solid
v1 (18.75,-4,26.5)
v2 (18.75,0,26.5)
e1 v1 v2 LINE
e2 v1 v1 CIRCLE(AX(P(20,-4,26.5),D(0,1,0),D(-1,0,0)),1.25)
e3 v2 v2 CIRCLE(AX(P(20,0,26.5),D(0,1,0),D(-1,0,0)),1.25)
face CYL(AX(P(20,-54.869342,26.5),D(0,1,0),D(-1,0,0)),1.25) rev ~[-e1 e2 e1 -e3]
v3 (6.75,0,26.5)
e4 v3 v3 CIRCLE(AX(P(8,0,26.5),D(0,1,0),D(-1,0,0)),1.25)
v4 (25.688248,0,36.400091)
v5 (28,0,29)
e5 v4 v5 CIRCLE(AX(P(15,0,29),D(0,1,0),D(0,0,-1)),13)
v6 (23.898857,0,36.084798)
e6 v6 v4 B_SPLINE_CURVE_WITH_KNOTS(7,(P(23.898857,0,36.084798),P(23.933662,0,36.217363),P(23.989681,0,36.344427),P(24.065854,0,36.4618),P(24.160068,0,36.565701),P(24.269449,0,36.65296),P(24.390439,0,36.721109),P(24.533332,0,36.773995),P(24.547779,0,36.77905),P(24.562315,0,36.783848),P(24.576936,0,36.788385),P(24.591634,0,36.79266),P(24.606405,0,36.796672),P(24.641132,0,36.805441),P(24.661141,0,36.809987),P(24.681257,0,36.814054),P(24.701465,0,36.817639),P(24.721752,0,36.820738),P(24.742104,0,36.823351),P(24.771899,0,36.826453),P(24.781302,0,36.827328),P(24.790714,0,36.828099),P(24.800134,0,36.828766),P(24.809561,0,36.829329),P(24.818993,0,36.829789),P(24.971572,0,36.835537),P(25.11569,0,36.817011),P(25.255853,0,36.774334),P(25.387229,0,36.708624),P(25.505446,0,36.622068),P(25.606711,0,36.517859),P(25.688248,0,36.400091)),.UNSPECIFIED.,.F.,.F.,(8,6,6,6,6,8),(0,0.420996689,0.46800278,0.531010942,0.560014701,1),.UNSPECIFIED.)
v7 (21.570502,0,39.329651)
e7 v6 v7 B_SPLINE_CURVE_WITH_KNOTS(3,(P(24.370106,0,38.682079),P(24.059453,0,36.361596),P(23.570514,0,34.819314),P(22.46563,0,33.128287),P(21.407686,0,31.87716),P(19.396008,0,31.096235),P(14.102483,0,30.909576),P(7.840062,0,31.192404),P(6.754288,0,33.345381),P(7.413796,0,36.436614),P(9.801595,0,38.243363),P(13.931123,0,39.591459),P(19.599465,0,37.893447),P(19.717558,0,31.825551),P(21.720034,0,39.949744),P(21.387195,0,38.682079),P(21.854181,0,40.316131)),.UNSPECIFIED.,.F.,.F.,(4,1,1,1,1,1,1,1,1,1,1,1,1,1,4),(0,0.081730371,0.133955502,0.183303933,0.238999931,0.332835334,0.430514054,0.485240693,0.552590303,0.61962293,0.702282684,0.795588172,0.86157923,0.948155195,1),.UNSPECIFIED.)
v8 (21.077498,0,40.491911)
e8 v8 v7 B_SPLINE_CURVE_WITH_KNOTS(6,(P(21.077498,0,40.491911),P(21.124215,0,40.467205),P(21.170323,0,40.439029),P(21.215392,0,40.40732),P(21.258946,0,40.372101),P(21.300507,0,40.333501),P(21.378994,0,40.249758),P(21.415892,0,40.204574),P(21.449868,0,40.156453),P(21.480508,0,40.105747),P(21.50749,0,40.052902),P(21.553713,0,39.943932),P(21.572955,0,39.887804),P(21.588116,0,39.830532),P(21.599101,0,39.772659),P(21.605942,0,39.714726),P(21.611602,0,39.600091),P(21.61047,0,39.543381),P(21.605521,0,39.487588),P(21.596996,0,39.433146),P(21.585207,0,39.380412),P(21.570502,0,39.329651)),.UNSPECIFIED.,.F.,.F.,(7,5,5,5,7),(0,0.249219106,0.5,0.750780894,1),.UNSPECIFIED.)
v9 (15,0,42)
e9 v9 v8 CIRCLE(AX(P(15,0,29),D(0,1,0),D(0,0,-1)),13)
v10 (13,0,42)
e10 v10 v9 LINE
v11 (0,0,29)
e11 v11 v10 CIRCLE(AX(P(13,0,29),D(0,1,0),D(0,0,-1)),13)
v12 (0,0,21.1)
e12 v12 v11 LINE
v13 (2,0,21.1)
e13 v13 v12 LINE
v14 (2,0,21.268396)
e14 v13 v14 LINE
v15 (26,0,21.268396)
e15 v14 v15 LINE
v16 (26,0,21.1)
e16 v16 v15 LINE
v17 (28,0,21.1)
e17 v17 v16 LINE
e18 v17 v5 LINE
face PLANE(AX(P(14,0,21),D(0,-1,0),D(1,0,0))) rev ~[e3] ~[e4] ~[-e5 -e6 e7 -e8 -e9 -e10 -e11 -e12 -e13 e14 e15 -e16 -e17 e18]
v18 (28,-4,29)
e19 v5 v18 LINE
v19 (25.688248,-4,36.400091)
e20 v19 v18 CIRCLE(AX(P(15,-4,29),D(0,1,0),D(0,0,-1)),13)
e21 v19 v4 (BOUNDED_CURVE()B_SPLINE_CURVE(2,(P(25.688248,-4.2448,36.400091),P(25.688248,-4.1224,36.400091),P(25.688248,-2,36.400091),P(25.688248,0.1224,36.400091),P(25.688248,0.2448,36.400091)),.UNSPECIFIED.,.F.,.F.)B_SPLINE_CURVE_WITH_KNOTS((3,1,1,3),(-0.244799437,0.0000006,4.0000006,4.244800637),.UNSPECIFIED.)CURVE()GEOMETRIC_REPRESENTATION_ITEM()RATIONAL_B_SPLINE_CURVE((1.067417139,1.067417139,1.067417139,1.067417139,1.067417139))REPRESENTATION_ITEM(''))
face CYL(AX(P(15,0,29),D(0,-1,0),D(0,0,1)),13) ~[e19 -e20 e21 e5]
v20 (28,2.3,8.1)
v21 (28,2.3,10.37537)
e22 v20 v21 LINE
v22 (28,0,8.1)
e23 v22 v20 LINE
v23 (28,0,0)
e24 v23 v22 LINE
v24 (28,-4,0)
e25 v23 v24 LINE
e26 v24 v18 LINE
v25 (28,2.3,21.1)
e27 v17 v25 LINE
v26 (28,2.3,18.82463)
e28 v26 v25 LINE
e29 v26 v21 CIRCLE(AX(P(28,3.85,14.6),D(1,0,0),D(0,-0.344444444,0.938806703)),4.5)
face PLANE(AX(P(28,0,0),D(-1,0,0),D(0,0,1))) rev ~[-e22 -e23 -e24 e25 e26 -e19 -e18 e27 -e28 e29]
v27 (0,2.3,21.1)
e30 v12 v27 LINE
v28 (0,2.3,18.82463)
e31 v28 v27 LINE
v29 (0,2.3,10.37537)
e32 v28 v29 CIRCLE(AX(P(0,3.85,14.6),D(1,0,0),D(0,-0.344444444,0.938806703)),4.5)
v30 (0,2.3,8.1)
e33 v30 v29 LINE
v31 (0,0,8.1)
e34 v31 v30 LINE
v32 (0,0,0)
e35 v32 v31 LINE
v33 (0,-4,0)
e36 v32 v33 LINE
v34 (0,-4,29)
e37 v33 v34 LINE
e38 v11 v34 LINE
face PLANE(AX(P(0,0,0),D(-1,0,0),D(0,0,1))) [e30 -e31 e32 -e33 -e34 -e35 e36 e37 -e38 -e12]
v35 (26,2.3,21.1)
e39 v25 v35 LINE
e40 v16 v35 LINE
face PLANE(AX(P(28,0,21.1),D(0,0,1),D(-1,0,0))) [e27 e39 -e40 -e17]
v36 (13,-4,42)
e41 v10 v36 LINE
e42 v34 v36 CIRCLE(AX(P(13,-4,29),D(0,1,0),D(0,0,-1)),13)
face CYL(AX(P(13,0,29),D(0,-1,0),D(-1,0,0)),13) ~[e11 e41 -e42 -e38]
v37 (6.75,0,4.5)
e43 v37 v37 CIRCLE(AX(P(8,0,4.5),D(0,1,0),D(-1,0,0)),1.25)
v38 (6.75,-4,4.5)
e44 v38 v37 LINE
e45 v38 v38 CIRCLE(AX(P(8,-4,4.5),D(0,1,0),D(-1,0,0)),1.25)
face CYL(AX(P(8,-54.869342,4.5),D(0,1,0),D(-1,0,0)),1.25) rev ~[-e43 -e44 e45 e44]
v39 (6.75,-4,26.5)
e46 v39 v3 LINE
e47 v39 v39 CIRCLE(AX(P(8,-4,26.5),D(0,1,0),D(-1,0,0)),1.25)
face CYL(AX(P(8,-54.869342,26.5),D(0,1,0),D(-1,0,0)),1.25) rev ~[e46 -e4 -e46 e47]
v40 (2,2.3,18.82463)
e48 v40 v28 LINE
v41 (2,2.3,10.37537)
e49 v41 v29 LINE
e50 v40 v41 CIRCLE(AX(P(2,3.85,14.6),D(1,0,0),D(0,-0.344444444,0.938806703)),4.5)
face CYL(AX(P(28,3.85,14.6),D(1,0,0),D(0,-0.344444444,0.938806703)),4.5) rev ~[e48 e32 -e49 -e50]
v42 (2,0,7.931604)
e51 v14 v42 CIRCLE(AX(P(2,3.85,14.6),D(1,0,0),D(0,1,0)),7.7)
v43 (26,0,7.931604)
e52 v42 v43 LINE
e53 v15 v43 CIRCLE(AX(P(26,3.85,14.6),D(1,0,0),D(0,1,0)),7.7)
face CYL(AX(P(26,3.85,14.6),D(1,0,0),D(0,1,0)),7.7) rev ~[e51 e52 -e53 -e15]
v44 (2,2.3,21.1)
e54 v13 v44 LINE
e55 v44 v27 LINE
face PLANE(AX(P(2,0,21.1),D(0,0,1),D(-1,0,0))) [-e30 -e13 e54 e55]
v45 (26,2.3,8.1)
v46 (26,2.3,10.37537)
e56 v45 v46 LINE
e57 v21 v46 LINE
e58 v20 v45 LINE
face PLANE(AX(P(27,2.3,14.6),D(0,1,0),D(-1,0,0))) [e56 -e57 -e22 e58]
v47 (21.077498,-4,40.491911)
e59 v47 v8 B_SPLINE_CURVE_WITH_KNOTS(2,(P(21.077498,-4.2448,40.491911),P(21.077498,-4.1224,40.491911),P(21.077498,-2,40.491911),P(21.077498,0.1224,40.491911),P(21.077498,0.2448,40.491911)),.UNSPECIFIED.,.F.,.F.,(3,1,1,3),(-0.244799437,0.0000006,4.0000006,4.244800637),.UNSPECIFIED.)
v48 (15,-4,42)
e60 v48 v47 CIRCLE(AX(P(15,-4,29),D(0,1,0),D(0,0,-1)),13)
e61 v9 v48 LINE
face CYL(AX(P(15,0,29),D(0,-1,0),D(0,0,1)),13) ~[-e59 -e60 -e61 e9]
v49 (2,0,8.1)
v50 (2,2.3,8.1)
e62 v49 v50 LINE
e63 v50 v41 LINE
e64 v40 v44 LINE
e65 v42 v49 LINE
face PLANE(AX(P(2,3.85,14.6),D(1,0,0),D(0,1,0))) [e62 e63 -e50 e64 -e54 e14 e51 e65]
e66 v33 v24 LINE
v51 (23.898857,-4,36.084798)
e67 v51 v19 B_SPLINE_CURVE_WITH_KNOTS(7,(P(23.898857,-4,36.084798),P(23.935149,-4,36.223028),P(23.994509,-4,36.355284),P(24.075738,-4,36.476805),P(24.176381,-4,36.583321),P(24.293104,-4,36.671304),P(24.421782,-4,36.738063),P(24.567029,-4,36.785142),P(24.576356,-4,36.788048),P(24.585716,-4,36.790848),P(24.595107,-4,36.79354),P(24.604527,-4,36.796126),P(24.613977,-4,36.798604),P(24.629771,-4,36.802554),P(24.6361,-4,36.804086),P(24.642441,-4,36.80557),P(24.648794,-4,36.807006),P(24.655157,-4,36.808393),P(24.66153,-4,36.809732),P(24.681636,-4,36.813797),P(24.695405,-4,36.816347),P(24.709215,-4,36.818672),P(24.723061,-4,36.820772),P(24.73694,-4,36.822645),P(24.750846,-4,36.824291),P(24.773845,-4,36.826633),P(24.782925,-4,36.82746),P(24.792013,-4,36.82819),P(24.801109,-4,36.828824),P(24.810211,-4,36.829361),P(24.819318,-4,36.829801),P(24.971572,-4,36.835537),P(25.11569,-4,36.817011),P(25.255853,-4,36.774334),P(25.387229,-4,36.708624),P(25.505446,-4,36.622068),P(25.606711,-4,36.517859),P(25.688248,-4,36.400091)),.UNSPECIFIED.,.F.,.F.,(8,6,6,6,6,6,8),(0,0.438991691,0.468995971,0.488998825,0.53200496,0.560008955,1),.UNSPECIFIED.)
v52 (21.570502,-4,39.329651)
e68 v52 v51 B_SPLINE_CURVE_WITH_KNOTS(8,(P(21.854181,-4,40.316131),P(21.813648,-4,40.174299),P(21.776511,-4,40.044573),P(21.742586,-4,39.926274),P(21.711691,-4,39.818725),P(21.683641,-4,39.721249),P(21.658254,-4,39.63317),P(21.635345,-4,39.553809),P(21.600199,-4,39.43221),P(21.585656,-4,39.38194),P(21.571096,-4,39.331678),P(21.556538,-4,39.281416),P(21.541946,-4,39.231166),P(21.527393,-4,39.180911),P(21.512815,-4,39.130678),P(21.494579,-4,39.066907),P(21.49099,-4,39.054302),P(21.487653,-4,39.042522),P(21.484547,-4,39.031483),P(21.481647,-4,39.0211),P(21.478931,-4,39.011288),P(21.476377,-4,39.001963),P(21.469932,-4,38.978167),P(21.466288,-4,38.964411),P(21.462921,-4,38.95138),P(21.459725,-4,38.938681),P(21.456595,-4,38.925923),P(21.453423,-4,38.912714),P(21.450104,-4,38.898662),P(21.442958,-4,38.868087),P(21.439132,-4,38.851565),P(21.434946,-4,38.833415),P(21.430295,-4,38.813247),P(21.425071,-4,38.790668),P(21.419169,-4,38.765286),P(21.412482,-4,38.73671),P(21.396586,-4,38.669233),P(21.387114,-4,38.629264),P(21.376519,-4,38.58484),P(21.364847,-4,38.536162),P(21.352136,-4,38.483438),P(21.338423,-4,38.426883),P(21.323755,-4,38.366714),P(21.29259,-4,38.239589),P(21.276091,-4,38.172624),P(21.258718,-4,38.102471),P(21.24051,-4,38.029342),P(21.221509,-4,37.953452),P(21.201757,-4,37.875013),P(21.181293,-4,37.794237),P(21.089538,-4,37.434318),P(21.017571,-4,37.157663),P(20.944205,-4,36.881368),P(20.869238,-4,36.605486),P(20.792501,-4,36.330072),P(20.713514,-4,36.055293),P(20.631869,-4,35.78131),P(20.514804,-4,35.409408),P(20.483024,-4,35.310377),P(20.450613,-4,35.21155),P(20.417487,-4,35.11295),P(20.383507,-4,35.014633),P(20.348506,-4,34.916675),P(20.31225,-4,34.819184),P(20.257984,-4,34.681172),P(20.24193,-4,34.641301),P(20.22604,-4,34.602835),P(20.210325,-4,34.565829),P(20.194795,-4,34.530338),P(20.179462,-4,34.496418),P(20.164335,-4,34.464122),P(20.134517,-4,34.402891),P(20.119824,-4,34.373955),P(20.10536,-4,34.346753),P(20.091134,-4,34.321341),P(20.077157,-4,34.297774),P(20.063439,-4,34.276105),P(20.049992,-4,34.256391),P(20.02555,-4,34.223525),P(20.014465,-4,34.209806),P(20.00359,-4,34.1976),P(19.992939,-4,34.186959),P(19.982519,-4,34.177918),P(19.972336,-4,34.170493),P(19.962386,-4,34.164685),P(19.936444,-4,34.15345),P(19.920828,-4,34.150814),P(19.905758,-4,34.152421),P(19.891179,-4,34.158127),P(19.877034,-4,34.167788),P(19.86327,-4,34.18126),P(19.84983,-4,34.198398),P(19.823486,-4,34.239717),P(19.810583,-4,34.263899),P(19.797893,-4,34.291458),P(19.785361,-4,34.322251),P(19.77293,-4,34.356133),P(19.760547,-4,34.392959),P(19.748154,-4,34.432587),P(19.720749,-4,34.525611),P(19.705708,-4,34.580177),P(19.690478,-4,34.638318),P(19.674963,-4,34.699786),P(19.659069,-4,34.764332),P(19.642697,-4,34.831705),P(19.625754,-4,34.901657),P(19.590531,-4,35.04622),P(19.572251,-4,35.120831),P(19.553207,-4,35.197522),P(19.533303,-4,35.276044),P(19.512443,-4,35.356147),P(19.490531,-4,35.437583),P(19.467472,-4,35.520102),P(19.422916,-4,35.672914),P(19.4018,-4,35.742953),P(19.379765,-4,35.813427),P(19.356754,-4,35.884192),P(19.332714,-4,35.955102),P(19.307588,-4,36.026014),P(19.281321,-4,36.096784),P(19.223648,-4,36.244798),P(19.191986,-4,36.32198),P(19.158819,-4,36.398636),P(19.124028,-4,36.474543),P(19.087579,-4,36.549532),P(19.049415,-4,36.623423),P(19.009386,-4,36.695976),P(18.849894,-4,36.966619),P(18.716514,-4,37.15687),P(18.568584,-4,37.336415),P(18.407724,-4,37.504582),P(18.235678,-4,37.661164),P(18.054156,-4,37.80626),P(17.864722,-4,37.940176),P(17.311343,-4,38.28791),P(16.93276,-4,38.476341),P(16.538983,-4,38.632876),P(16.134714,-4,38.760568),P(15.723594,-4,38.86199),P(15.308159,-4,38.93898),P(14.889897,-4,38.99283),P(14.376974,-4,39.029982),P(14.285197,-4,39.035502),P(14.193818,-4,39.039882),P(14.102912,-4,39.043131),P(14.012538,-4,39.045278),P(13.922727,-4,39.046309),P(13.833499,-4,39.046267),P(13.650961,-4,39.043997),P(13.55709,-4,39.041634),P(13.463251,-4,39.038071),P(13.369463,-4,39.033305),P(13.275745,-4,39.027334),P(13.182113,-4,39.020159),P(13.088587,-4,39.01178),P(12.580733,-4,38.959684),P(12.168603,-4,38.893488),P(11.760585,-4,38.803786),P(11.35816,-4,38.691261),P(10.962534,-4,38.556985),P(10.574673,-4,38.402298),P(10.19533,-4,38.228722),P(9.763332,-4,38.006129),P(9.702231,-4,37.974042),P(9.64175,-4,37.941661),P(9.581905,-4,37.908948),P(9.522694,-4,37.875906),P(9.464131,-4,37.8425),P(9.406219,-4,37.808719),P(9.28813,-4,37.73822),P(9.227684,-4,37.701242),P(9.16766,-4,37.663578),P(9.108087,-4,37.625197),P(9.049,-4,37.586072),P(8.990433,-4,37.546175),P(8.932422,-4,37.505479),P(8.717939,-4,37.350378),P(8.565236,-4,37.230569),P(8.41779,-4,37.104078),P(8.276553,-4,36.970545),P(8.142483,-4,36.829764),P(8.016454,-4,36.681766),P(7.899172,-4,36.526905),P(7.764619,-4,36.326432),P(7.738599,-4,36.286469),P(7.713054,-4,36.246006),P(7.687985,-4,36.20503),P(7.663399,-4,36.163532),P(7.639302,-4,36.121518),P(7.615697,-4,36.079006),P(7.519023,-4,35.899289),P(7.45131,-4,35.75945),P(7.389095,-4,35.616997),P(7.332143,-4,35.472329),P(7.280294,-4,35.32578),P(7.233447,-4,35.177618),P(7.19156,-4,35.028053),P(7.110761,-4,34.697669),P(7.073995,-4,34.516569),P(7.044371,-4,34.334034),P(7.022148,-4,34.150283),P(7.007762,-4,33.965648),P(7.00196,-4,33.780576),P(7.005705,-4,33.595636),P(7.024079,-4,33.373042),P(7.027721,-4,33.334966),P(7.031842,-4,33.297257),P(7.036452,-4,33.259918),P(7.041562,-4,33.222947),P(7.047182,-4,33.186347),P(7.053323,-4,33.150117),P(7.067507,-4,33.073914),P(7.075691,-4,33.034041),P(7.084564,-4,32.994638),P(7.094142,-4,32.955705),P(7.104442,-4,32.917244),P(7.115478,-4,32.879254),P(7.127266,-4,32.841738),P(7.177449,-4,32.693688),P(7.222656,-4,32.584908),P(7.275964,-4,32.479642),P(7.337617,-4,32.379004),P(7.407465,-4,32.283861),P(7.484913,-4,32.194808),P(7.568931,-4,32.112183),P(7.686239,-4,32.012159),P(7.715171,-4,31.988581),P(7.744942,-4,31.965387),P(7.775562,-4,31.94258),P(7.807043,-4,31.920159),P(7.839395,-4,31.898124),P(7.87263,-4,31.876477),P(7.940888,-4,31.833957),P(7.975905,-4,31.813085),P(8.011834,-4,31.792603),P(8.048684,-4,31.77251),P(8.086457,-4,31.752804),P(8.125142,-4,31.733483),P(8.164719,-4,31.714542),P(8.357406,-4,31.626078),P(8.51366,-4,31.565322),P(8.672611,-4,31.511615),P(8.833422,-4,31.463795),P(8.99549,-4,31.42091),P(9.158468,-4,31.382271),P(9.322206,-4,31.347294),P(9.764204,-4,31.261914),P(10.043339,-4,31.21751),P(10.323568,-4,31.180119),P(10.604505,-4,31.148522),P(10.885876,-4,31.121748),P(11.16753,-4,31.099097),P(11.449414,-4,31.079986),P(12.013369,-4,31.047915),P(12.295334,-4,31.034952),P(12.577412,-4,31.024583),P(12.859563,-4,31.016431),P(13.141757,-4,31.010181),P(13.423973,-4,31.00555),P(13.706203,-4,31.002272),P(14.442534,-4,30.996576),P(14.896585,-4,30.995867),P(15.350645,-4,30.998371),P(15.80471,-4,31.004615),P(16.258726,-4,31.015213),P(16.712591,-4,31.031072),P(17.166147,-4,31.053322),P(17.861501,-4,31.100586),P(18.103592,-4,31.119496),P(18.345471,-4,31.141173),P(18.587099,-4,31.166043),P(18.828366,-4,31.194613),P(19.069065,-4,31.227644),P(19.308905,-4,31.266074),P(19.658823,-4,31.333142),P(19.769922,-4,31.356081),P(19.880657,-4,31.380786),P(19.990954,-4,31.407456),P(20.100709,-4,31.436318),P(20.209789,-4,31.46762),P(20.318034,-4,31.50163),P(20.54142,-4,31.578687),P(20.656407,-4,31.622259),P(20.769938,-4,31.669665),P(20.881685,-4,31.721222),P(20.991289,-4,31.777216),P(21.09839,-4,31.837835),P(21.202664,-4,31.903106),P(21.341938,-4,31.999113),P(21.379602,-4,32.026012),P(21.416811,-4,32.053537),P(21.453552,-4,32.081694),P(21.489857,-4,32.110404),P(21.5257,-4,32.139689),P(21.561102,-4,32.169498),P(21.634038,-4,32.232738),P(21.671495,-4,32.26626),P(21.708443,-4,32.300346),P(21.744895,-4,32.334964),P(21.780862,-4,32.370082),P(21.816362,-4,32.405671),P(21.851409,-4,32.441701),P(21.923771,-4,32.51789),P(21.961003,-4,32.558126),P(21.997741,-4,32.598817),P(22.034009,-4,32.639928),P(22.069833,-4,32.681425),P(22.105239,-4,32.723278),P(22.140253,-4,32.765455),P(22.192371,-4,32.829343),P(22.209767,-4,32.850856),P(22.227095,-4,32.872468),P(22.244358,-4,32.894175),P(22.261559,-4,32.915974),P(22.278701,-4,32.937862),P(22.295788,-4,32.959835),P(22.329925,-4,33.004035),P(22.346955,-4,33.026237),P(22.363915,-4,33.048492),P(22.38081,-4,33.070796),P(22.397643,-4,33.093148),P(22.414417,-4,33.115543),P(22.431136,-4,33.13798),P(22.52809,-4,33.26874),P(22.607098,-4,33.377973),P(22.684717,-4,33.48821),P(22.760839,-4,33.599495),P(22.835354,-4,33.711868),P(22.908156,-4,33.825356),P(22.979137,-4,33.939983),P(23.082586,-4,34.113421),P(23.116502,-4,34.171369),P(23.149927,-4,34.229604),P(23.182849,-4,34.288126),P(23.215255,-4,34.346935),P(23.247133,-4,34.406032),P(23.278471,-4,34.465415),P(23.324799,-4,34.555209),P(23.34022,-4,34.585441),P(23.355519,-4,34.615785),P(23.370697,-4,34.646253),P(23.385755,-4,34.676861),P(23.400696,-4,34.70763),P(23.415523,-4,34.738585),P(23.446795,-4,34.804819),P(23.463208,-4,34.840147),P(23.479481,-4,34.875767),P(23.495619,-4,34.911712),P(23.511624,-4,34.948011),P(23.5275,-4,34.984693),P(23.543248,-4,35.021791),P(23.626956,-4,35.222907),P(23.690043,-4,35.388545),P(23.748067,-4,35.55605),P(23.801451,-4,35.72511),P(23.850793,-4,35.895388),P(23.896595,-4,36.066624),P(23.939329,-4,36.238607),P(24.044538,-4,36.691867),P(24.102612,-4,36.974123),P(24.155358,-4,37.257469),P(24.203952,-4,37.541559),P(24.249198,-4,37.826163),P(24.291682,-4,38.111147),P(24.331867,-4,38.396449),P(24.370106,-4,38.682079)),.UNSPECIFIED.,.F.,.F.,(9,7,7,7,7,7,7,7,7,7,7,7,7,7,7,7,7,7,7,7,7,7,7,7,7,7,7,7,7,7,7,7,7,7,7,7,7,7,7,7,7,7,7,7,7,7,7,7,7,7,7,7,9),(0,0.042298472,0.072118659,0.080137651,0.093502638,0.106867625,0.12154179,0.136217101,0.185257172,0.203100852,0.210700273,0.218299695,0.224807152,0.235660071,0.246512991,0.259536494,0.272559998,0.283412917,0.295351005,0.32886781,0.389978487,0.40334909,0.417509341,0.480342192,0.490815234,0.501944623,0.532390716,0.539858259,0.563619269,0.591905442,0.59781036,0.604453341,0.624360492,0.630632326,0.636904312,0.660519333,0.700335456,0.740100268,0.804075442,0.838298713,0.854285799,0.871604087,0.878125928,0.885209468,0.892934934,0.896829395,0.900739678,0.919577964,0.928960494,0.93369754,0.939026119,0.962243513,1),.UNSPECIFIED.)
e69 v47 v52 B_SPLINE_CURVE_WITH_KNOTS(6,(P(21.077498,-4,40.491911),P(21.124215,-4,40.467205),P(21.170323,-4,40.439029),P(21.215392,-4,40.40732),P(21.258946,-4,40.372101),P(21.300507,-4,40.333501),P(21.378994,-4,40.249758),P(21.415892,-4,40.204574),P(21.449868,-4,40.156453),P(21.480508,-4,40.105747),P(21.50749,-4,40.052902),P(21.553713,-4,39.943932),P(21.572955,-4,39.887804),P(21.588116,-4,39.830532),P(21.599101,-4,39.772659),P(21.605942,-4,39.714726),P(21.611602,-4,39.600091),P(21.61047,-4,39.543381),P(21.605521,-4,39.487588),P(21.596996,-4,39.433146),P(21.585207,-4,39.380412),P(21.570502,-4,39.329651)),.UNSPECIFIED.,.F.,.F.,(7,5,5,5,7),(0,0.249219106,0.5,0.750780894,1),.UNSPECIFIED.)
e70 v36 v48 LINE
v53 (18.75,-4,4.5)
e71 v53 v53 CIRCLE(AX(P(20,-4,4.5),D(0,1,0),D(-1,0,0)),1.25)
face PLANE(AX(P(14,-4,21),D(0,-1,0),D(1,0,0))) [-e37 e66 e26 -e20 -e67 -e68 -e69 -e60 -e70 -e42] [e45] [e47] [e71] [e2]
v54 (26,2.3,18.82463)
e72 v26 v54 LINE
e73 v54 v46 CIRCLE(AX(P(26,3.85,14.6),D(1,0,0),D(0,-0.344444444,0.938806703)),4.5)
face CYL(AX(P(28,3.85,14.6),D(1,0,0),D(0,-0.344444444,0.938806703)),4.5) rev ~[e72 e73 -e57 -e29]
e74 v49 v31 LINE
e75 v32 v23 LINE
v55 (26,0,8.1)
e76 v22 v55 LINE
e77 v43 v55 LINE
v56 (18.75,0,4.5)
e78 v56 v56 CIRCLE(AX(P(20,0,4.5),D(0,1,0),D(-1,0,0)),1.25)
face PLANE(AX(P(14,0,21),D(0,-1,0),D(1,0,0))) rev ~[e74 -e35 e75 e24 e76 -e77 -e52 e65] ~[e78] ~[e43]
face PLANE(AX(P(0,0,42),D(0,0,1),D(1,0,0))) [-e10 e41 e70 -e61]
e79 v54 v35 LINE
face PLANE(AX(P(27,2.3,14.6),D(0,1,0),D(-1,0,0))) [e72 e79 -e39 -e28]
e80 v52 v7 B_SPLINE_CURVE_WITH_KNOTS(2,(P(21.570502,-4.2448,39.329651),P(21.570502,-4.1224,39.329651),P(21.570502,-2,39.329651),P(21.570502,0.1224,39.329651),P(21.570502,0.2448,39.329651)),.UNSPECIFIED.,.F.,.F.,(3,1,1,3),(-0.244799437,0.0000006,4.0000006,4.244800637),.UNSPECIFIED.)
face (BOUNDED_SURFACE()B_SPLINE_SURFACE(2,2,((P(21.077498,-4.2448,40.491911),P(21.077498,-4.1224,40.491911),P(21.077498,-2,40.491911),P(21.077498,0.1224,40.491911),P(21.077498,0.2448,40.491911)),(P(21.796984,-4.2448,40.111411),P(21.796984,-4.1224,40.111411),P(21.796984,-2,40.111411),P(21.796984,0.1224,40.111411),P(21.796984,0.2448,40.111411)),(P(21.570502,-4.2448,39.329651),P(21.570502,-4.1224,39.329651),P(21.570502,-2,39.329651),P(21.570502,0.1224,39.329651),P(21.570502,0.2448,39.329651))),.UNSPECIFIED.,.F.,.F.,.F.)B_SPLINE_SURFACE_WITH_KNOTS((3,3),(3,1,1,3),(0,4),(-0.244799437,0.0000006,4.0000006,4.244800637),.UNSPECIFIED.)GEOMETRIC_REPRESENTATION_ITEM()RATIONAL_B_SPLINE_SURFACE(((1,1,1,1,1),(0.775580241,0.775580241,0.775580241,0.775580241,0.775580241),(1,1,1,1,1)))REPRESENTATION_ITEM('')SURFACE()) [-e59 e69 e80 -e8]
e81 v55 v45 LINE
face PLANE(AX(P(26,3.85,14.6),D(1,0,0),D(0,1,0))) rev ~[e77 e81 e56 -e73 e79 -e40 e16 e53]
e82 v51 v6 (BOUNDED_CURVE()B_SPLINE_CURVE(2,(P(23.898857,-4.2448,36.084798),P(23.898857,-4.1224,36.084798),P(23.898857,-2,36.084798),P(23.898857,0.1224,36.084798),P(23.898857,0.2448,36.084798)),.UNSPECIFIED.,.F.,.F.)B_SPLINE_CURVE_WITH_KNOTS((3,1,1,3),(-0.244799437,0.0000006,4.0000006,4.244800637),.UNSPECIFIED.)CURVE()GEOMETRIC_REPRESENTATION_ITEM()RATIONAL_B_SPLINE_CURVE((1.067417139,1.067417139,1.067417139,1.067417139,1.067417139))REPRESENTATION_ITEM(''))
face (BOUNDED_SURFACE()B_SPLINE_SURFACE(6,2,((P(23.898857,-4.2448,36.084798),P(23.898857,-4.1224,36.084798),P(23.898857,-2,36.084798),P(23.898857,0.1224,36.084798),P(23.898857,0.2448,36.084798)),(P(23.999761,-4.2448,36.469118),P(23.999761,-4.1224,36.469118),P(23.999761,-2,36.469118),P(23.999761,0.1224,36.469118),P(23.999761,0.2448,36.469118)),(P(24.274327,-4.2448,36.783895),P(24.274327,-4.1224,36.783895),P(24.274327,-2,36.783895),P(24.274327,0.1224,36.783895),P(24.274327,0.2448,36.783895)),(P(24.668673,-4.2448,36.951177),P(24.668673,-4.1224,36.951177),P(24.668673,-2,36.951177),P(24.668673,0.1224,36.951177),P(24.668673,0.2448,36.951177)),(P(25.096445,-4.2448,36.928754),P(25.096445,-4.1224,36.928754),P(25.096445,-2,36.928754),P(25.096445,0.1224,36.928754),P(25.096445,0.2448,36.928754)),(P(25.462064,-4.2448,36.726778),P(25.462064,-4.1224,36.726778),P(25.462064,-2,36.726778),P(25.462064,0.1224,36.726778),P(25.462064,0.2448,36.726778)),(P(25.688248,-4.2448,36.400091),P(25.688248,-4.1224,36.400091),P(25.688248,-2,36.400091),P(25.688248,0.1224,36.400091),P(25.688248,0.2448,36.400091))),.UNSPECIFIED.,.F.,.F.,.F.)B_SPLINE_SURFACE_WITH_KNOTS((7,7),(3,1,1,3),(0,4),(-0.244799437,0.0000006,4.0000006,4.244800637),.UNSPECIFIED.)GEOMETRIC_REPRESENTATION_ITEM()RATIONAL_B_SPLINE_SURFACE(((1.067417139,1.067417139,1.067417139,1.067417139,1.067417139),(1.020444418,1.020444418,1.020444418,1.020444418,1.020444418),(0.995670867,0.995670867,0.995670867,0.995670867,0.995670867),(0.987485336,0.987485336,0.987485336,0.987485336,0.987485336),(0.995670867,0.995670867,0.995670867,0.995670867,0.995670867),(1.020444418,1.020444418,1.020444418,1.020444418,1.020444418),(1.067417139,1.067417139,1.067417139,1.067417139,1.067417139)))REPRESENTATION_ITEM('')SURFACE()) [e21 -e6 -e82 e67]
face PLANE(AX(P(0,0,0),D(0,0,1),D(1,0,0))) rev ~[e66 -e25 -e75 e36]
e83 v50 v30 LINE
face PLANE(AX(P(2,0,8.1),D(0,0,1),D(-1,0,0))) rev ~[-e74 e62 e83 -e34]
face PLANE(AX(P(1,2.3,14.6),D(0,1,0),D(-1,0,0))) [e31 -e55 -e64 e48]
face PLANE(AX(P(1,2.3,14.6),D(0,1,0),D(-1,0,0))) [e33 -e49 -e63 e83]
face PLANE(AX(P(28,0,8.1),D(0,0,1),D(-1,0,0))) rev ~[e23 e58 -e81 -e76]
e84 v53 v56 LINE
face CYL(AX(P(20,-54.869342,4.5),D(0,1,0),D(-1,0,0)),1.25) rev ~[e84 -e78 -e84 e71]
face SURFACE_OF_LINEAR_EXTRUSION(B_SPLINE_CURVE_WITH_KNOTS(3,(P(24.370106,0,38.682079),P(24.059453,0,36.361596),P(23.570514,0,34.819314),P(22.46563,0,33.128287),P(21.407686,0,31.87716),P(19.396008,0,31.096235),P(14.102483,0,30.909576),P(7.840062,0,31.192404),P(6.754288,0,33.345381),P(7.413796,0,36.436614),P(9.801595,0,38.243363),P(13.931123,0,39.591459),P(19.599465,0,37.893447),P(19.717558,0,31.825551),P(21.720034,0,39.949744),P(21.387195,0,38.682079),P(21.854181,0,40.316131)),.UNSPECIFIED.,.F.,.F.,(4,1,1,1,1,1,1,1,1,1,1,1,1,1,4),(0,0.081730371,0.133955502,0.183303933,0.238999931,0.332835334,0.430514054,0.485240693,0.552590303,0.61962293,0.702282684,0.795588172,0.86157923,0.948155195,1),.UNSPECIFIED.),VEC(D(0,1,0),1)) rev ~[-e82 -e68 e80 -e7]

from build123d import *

# Parameters (mm, degrees)
F0_W      = 28
F0_H      = 42
F1_DEPTH  = 4
F2_W      = 2
F2_H      = 13
F3_DEPTH  = 2.3
F5_DEPTH  = 28
F7_R      = 7.7
F8_DEPTH  = 24
F10_D     = 2.5
F11_R     = 13
F13_DEPTH = 25
F14_R     = 1


with BuildPart() as f1:
    # F0 (on Front) → F1 (new body)
    with BuildSketch(Plane.XZ):
        with Locations((14, 21)):
            Rectangle(F0_W, F0_H)
    extrude(amount=F1_DEPTH)

    # F2 (on face) → F3 (join)
    with BuildSketch(Plane(origin=(0, 0, 0), x_dir=(-1, 0, 0), z_dir=(0, 1, 0))):
        with Locations((-27, 14.6)):
            Rectangle(F2_W, F2_H)
        with Locations((-1, 14.6)):
            Rectangle(F2_W, F2_H)
    extrude(amount=F3_DEPTH)

    # F4 (on face) → F5 (cut, through all)
    with BuildSketch(Plane.YZ.offset(28)):
        with BuildLine():
            Line((2.3, 10.3753698387), (2.3, 18.8246301613))
            ThreePointArc((2.3, 18.8246301613), (-0.65, 14.6), (2.3, 10.3753698387))
        make_face()
        with BuildLine():
            ThreePointArc((2.3, 10.3753698387), (6.4263346056, 10.9104878371), (8.35, 14.6))
            ThreePointArc((8.35, 14.6), (6.4263346056, 18.2895121629), (2.3, 18.8246301613))
            Line((2.3, 18.8246301613), (2.3, 10.3753698387))
        make_face()
    extrude(amount=-F5_DEPTH, mode=Mode.SUBTRACT)

    # F7 (on offset) → F8 (cut)
    with BuildSketch(Plane.YZ.offset(26)):
        with Locations((3.85, 14.6)):
            Circle(F7_R)
    extrude(amount=-F8_DEPTH, mode=Mode.SUBTRACT)

    # F10 (through all)
    with Locations(Plane.XZ.offset(4)):
        with Locations((8, 26.5), (20, 26.5), (20, 4.5), (8, 4.5)):
            Hole(F10_D / 2)

    # F11
    f11_edges = [f1.edges().sort_by_distance(p)[0] for p in [
        (28, -2, 42),
        (0, -2, 42),
    ]]
    fillet(f11_edges, radius=F11_R)

    # F12 (on face) → F13 (cut)
    with BuildSketch(Plane(origin=(0, 0, 0), x_dir=(-1, 0, 0), z_dir=(0, 1, 0))):
        with BuildLine():
            add(Edge.make_bspline(
                [(-24.370105736, 38.6820794177), (-24.0594528348, 36.3615961873), (-23.5705139755, 34.8193138181), (-22.4656301421, 33.1282870019), (-21.4076860246, 31.8771595646), (-19.3960082415, 31.0962351705), (-14.1024829639, 30.9095755715), (-7.8400623253, 31.1924039681), (-6.7542875349, 33.3453807501), (-7.4137958253, 36.4366142616), (-9.801594871, 38.2433632718), (-13.9311231838, 39.5914590836), (-19.599465229, 37.8934474257), (-19.7175576882, 31.8255512809), (-21.7200335624, 39.9497444349), (-21.3871951162, 38.6820794177), (-21.8541813685, 40.316131001)],
                knots=[0, 0, 0, 0, 0.0817303714, 0.1339555018, 0.1833039328, 0.2389999307, 0.3328353336, 0.430514054, 0.4852406933, 0.5525903029, 0.6196229305, 0.7022826841, 0.7955881718, 0.8615792299, 0.9481551952, 1, 1, 1, 1], degree=3))
            ThreePointArc((-21.8541813685, 40.316131001), (-23.1594375967, 39.5719231302), (-24.370105736, 38.6820794177))
        make_face()
    extrude(amount=-F13_DEPTH, mode=Mode.SUBTRACT)

    # F14
    f14_edges = [f1.edges().sort_by_distance(p)[0] for p in [
        (24.287623, -2, 38.096156),
        (21.788546, -2, 40.086733),
    ]]
    fillet(f14_edges, radius=F14_R)


solid = f1.part
